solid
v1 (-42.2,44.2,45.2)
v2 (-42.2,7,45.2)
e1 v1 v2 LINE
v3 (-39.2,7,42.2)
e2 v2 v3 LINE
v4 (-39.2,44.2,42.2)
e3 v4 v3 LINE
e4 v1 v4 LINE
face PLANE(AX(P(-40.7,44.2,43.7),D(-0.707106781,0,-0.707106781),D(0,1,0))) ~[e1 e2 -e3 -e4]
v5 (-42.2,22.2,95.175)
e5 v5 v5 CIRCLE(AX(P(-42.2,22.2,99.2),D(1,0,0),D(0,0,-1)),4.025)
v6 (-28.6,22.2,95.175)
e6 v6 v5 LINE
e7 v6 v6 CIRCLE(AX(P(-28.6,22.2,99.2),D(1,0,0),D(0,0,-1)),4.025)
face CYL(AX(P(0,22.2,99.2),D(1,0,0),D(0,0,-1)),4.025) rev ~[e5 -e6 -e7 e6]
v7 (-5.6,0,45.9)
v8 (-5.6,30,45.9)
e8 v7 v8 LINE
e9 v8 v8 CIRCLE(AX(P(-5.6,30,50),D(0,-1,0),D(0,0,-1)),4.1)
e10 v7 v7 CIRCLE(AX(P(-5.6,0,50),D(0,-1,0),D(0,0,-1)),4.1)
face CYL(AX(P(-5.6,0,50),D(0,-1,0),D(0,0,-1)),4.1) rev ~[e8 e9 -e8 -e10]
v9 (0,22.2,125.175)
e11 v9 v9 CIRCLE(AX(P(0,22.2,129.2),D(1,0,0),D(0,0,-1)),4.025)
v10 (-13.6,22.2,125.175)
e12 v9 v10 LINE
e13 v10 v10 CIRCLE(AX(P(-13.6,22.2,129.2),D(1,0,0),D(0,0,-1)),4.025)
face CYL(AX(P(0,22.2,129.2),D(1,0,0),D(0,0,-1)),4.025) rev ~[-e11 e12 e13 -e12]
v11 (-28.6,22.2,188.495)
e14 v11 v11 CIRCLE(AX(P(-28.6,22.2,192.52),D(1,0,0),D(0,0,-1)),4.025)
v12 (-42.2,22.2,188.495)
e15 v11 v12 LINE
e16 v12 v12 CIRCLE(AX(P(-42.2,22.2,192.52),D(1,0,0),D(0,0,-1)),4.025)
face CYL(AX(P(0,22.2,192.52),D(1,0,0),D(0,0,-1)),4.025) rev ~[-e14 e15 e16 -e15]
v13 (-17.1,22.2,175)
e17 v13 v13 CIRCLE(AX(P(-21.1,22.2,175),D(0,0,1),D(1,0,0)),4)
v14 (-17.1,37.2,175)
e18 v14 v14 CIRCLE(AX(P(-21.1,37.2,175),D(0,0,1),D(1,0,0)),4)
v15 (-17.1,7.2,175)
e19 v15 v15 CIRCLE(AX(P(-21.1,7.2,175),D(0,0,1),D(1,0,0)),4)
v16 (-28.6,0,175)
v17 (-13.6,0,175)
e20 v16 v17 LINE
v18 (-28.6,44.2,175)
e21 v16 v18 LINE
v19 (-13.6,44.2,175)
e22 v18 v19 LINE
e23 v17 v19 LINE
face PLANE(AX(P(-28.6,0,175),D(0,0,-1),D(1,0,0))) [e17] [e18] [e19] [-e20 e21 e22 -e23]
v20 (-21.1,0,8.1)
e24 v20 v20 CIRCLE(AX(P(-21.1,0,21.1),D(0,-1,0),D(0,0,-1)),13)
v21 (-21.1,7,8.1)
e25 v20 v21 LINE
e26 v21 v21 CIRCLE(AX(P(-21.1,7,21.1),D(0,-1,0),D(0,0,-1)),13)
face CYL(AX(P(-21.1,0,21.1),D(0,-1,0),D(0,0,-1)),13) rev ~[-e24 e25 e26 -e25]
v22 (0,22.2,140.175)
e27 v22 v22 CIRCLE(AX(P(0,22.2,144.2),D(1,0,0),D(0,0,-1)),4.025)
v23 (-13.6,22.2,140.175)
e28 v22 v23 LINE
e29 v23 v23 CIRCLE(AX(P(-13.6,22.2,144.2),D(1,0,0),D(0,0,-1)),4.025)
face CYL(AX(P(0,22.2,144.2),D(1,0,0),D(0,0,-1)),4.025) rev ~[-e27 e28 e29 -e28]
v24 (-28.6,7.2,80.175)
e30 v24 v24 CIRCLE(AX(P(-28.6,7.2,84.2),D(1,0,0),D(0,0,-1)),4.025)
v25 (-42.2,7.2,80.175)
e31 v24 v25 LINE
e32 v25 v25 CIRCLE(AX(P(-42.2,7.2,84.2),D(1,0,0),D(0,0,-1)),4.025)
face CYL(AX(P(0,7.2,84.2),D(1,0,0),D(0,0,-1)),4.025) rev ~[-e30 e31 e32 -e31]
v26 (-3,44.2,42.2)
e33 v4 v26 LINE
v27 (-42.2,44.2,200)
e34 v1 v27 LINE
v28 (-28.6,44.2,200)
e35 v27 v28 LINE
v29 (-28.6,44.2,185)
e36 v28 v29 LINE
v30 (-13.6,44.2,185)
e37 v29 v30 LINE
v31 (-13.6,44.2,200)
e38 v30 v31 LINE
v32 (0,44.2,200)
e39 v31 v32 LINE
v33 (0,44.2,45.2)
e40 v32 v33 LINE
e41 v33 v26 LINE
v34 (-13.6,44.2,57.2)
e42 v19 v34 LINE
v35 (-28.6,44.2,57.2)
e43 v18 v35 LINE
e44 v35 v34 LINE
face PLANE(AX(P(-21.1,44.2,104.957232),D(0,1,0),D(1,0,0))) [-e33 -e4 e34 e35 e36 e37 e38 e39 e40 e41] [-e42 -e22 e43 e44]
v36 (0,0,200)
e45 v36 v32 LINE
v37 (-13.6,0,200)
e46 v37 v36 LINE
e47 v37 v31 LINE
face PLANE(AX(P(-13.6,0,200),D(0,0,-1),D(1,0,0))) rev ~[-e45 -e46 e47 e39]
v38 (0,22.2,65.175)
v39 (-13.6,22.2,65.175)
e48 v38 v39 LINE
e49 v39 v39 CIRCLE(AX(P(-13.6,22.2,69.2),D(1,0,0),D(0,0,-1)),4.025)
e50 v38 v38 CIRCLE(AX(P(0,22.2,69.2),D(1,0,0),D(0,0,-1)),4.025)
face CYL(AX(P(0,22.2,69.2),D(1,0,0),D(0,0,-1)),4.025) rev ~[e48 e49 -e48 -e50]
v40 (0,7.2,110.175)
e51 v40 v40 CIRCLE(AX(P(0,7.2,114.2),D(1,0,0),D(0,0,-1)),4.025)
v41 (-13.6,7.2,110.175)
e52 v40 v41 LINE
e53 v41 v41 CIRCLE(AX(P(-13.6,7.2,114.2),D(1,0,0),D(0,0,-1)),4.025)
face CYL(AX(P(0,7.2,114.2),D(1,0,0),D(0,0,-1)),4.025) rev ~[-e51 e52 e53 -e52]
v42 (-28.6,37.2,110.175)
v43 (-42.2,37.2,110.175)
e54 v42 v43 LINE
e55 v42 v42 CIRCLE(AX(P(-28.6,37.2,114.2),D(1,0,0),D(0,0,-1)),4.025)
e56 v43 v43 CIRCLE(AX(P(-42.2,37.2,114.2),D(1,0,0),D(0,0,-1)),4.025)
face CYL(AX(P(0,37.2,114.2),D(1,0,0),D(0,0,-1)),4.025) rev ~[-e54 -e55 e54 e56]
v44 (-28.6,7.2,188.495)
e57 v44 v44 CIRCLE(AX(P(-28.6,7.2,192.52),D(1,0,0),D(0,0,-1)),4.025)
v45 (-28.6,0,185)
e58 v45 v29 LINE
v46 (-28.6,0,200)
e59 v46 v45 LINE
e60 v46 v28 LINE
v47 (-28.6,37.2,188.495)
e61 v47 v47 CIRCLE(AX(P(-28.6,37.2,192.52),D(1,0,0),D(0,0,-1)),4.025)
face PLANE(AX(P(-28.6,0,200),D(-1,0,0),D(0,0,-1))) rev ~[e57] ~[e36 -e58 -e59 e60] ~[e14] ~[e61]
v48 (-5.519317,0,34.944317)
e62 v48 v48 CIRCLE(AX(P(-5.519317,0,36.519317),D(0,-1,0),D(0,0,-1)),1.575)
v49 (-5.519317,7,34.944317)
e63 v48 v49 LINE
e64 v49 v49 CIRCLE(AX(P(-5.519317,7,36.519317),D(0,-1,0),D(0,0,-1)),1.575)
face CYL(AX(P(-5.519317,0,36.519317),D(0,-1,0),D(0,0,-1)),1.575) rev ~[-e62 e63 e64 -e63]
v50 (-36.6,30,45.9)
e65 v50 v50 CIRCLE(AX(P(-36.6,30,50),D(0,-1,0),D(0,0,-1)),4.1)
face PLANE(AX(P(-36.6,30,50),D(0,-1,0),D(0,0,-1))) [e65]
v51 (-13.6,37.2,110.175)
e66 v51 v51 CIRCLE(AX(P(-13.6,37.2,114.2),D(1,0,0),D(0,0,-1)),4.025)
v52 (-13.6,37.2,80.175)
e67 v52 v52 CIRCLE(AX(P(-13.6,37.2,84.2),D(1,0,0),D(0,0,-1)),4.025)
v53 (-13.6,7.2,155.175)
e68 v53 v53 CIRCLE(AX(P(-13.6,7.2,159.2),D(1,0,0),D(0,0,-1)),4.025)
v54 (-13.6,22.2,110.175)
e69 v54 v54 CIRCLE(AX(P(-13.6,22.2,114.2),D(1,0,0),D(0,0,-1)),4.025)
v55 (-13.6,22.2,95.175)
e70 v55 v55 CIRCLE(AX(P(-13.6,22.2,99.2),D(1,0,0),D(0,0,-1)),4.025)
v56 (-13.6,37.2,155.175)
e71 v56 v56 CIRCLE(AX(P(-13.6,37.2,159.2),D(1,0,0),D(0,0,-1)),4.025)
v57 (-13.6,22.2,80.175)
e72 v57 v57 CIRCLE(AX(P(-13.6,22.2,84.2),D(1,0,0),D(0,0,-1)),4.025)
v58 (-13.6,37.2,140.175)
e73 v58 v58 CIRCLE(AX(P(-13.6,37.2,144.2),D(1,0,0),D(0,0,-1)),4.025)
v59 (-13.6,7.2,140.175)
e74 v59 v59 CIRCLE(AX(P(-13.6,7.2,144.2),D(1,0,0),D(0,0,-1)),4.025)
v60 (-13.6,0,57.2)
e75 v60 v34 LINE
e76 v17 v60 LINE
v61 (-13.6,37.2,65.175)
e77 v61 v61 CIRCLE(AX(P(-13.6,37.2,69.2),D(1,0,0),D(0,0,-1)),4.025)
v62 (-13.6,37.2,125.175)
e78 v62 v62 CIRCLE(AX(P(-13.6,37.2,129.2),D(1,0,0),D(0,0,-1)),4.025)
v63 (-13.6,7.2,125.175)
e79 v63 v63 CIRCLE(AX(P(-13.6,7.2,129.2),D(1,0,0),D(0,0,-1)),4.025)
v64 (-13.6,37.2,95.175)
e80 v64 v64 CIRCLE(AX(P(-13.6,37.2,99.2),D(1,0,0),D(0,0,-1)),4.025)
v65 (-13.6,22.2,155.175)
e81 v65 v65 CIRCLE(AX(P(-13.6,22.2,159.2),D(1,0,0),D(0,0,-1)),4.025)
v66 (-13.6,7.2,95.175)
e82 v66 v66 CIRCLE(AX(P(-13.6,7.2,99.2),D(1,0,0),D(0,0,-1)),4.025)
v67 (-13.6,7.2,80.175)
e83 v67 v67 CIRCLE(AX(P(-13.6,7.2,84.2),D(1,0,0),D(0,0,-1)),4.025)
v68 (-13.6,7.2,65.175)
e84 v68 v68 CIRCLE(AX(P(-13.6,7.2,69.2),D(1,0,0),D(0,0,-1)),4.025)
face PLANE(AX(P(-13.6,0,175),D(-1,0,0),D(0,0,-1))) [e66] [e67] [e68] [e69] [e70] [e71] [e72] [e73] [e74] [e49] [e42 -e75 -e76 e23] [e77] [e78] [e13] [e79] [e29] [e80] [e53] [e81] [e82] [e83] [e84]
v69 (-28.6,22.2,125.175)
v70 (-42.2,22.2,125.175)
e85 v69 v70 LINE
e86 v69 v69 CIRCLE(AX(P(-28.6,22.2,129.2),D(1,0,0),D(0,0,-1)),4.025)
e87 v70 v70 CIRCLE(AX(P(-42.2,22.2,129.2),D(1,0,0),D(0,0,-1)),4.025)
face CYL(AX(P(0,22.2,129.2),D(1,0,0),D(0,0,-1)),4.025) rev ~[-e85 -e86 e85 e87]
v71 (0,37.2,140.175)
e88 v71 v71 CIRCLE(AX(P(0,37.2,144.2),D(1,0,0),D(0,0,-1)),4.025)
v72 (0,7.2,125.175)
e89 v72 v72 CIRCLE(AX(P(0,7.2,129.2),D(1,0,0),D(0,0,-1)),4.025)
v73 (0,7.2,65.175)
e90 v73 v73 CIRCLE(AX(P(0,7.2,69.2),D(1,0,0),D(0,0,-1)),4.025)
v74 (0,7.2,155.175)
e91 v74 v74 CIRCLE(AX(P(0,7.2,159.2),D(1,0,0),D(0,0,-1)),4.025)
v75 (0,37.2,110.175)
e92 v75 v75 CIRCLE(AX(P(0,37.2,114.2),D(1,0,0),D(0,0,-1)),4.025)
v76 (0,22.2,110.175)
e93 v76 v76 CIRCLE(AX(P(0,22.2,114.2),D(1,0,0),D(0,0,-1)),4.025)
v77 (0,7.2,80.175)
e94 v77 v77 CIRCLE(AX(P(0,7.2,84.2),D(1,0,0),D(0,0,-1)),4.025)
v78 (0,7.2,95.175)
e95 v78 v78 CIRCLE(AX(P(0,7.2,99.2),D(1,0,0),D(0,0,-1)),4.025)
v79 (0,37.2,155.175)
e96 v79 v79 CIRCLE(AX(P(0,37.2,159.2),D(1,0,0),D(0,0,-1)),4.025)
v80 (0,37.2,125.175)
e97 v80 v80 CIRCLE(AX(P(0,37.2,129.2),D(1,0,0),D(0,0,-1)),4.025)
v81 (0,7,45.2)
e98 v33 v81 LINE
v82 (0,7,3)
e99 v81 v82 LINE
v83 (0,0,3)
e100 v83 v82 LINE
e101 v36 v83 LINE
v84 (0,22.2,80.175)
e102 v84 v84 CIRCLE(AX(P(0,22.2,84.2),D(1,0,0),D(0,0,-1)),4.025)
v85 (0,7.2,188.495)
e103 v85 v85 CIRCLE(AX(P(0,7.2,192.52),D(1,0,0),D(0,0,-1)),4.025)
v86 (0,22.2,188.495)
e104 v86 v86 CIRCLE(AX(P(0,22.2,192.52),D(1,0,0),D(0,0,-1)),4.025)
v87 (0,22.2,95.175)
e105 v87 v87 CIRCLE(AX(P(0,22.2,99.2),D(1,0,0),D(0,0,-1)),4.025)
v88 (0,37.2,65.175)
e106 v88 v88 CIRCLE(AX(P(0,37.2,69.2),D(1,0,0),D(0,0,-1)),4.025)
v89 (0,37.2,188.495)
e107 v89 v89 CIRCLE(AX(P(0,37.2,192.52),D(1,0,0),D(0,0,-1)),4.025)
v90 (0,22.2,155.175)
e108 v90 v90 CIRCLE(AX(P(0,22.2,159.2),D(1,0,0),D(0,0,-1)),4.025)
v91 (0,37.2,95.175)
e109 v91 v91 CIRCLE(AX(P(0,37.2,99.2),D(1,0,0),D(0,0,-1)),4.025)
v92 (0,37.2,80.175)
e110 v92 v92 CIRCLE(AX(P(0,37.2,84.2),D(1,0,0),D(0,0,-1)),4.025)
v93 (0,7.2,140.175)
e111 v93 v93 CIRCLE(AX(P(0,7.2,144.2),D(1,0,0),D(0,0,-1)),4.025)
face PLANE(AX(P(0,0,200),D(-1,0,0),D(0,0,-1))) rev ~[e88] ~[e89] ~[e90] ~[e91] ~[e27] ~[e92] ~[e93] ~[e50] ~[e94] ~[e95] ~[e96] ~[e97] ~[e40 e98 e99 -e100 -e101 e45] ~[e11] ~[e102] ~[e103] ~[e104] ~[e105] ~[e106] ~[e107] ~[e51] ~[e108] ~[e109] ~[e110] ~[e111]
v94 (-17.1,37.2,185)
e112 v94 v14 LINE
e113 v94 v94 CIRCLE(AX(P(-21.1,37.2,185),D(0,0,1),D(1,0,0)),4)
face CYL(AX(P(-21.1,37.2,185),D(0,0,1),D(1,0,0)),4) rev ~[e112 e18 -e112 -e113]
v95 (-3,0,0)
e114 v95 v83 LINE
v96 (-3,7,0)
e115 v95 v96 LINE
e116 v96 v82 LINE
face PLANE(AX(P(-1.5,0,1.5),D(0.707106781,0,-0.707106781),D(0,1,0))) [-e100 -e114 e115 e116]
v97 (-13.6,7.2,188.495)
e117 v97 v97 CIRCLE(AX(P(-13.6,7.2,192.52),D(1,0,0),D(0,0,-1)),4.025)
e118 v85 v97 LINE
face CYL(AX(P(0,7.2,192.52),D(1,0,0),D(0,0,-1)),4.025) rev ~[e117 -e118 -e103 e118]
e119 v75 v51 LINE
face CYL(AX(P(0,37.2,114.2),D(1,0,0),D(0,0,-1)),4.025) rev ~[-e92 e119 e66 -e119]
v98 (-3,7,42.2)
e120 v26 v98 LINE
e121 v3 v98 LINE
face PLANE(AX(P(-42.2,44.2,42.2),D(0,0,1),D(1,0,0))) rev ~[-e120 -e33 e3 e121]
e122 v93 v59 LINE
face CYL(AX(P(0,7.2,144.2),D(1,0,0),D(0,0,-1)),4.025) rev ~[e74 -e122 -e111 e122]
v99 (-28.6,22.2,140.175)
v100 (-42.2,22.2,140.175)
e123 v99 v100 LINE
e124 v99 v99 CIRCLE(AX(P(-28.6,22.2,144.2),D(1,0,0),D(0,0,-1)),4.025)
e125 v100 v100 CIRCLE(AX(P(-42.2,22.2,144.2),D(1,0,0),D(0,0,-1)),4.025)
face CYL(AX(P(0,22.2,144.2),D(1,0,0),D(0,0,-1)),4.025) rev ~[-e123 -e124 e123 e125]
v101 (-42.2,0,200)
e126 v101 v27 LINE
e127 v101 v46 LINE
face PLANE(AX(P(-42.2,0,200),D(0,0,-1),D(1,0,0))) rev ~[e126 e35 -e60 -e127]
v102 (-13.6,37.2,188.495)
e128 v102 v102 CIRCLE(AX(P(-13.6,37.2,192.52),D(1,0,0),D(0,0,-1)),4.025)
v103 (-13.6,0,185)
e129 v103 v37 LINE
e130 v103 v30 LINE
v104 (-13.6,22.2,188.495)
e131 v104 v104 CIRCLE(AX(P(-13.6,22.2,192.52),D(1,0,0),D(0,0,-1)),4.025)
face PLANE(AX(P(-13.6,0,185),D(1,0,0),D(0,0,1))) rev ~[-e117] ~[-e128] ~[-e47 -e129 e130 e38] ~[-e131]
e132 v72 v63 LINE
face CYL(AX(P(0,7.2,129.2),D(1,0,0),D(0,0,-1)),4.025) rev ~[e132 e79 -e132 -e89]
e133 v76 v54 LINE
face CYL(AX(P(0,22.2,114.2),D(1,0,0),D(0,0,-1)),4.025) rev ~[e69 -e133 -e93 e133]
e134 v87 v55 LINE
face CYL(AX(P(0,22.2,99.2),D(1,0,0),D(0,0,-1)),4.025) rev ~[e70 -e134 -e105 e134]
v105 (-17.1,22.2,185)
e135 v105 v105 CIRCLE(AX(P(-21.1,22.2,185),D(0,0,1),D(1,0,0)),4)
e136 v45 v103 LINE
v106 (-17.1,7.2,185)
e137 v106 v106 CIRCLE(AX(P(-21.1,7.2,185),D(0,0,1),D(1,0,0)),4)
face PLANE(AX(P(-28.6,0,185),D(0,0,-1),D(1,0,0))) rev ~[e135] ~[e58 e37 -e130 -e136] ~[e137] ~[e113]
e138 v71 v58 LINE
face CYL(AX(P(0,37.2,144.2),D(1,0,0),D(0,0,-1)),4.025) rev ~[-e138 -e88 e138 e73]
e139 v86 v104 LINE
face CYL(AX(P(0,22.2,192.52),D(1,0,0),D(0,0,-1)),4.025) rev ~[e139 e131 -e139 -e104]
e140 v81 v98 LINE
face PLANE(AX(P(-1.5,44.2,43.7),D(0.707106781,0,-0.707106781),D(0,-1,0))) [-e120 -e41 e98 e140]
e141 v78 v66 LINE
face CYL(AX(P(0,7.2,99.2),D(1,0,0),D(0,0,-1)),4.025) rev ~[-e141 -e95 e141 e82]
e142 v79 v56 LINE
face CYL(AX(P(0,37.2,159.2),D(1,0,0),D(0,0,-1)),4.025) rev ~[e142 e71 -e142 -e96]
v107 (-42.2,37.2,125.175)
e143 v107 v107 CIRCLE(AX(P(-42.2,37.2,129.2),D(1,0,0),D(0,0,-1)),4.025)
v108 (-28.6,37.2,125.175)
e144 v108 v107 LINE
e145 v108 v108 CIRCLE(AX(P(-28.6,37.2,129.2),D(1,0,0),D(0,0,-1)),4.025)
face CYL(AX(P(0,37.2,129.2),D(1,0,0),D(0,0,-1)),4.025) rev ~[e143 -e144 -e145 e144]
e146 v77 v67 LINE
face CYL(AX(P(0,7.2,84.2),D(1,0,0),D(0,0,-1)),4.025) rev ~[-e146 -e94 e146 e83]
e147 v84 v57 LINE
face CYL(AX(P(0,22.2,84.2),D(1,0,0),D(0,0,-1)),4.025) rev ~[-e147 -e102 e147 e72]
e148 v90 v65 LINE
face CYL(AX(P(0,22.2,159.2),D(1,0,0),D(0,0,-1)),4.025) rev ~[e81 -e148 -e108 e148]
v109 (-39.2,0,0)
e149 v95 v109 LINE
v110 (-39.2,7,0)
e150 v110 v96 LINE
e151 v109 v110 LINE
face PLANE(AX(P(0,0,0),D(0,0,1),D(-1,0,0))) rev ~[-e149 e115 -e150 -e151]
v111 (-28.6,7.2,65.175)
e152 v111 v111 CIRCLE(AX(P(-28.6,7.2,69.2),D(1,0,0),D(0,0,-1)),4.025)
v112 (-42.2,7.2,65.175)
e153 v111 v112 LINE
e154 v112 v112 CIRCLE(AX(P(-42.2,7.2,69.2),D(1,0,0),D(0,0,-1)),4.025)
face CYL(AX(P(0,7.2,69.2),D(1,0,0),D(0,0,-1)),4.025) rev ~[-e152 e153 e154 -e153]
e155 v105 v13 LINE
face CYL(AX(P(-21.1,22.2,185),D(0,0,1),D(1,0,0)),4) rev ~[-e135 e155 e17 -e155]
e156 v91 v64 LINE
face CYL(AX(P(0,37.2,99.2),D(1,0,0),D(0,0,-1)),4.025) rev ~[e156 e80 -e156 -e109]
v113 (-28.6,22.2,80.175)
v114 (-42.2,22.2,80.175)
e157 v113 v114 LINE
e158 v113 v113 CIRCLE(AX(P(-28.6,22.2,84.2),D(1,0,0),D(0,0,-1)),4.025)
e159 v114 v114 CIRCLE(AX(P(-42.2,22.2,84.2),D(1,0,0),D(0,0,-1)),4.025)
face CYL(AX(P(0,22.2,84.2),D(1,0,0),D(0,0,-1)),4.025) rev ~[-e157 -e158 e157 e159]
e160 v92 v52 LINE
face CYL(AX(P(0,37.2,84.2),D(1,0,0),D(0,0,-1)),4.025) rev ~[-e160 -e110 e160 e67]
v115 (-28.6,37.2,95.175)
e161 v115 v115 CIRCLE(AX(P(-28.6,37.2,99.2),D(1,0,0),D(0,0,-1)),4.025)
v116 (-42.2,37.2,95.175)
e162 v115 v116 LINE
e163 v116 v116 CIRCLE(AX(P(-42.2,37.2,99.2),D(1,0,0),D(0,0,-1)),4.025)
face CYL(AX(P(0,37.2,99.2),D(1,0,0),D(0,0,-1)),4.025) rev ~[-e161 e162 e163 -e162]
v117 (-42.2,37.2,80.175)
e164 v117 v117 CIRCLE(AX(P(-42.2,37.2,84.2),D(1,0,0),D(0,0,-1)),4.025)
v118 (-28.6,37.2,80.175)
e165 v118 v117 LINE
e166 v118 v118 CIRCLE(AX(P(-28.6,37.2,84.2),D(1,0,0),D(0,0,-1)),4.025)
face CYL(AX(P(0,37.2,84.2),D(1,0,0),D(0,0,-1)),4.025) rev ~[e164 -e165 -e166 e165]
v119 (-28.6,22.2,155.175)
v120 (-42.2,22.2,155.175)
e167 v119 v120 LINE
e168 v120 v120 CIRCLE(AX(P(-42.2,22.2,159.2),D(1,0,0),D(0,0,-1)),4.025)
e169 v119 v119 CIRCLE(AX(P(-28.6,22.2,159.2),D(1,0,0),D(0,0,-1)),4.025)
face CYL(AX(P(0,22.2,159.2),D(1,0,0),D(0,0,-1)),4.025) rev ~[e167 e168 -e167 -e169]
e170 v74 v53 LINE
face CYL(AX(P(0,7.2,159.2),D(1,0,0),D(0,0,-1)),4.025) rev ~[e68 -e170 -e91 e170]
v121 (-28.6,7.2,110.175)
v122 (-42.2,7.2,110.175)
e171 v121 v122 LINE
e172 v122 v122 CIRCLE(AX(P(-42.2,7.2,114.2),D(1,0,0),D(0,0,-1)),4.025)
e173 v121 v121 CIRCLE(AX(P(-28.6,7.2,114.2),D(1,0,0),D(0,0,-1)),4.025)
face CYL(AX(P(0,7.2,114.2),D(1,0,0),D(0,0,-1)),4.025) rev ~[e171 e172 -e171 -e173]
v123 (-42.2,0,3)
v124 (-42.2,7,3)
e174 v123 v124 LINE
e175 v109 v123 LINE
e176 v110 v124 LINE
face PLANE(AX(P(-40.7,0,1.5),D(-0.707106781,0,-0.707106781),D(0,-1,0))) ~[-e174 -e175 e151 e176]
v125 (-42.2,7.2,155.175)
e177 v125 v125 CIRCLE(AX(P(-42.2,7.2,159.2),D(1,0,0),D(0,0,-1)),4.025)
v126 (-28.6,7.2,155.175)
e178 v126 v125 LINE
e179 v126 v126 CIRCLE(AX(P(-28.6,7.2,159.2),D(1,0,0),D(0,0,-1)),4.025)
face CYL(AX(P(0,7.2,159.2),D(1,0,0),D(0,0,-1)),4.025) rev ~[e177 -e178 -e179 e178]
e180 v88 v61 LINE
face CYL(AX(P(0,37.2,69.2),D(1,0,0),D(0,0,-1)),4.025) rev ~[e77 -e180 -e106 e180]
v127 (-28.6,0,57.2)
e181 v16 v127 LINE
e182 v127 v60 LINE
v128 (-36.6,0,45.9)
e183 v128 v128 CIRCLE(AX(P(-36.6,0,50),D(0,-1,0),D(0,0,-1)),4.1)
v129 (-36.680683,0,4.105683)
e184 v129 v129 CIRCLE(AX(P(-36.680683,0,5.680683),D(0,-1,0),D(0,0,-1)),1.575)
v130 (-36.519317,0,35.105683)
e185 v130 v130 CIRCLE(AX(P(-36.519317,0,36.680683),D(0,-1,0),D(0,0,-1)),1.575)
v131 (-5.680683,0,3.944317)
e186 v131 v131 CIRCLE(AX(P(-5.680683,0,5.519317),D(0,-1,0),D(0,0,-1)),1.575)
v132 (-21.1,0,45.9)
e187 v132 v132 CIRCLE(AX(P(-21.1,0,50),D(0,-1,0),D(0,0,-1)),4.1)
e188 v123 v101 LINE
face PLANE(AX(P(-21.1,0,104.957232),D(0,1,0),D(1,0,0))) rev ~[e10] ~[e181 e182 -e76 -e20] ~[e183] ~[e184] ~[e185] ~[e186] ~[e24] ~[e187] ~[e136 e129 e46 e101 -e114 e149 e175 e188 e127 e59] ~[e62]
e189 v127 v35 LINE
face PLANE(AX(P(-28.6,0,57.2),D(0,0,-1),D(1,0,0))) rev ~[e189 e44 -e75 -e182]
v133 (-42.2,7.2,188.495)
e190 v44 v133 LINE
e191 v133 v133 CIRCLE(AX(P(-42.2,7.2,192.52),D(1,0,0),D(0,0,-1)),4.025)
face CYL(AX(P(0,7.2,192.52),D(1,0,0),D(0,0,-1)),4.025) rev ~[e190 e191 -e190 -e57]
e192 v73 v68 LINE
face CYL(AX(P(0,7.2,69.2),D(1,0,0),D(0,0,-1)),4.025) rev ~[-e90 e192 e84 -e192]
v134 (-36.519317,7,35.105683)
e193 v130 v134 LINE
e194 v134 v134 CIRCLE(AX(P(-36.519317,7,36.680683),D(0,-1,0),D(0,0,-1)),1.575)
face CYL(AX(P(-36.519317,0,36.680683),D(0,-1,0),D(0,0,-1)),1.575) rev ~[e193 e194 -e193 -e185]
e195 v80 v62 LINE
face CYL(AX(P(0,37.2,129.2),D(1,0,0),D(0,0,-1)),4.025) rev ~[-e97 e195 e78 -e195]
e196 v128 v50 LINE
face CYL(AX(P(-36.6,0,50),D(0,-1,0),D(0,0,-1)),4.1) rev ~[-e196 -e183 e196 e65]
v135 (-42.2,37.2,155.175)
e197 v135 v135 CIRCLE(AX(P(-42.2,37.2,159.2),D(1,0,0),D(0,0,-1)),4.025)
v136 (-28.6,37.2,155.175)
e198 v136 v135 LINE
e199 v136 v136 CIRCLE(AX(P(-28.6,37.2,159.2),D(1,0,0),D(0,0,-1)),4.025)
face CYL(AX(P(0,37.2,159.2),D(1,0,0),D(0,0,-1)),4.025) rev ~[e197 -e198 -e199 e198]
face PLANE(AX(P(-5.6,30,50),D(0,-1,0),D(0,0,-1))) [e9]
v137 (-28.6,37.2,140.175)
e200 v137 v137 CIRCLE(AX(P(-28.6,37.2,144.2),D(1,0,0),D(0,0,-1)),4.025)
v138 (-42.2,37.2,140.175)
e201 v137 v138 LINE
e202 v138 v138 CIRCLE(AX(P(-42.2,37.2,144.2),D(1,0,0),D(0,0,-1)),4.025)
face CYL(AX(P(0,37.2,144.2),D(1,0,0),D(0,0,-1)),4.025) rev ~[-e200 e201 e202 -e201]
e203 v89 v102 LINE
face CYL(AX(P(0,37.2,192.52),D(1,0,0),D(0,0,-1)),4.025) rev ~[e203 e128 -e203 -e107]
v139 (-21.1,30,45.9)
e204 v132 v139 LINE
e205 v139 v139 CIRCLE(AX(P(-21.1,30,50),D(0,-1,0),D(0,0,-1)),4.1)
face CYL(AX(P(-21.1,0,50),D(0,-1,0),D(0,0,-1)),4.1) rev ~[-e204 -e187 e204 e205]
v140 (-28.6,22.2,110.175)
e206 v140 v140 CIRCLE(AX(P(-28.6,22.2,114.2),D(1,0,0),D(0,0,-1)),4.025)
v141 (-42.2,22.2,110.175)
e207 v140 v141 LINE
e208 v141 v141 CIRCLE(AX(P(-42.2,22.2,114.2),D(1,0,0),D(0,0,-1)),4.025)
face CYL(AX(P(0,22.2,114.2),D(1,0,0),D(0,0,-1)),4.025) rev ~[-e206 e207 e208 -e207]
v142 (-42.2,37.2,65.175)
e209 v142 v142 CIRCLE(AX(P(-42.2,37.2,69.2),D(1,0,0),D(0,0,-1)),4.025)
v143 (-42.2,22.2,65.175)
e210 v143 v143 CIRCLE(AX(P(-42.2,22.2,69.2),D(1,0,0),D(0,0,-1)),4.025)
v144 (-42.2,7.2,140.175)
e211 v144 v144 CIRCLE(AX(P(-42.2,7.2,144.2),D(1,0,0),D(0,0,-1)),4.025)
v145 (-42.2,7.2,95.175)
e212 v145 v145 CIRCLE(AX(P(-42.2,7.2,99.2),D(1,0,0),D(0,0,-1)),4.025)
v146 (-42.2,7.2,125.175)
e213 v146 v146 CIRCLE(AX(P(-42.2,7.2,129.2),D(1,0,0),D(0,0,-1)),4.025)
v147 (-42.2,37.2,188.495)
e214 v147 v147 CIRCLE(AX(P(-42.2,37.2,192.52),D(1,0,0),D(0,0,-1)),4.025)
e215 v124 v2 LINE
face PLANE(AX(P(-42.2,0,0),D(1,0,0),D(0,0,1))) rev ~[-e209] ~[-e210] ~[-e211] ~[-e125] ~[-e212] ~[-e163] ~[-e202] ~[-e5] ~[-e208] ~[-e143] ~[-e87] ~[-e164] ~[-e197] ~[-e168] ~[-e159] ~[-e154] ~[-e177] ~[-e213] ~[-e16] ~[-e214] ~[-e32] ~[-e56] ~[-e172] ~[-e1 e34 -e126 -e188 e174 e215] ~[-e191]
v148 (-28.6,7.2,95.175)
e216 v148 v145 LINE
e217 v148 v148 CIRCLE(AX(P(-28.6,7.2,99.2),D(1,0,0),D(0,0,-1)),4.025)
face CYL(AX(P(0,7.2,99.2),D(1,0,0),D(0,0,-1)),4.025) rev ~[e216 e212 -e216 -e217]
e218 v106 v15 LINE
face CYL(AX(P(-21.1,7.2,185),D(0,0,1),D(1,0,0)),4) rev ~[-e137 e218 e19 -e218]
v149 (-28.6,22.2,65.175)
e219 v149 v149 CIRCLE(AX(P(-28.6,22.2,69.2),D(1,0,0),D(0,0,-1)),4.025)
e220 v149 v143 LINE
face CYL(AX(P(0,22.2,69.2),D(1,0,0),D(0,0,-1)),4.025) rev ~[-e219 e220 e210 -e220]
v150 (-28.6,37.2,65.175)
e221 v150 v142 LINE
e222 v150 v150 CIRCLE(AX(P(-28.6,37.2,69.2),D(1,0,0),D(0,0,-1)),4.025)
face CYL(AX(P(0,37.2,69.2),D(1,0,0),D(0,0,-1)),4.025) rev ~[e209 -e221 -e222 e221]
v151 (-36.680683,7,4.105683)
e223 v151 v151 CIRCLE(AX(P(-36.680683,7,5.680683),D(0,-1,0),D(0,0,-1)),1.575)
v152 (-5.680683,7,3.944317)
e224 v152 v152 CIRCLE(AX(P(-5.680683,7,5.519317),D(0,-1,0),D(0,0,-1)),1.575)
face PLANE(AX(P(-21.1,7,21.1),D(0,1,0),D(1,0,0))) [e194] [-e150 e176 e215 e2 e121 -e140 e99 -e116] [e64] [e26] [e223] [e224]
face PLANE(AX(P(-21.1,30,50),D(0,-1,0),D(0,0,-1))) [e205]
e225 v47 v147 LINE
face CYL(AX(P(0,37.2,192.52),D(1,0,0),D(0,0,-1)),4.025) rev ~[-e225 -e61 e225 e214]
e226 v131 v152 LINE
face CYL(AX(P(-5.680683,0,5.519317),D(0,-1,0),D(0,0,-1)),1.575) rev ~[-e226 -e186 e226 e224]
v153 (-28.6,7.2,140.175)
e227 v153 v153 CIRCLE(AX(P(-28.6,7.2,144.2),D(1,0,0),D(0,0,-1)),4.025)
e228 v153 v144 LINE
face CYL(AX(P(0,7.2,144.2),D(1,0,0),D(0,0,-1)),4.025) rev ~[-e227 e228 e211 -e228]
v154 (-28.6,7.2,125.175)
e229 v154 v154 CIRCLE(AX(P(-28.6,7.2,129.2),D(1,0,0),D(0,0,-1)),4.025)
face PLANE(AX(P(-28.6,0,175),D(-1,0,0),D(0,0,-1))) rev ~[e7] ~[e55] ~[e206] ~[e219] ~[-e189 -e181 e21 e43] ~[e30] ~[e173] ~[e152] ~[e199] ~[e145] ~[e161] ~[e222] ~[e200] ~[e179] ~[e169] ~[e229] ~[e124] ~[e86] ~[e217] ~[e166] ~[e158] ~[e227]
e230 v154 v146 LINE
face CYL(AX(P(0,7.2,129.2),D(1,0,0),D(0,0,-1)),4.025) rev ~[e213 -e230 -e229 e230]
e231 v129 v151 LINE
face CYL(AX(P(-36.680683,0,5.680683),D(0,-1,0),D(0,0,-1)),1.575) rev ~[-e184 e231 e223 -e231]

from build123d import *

# Parameters (mm, degrees)
SKETCH1_W           = 15
SKETCH1_H           = 117.8
BOSS_EXTRUDE1_DEPTH = 44.2
SKETCH2_W           = 42.2
SKETCH2_H           = 42.2
CUT_EXTRUDE1_DEPTH  = 37.2
SKETCH3_R           = 13
SKETCH3_R_2         = 1.575
SKETCH3_R_3         = 4.1
CUT_EXTRUDE2_DEPTH  = 30
SKETCH5_R           = 4.025
CUT_EXTRUDE3_DEPTH  = 55
SKETCH6_R           = 4
CUT_EXTRUDE4_DEPTH  = 10
CHAMFER1_SIZE       = 3


with BuildPart() as part:
    # Sketch1 → Boss-Extrude1 (new body)
    with BuildSketch(Plane(origin=(0, 0, 0), x_dir=(1, 0, 0), z_dir=(0, 1, 0))):
        Polygon((0, 0), (-42.2, 0), (-42.2, -200), (-28.6, -200), (-28.6, -185), (-13.6, -185), (-13.6, -200), (0, -200), align=None)
        with Locations((-21.1, -116.1)):
            Rectangle(SKETCH1_W, SKETCH1_H, mode=Mode.SUBTRACT)
    extrude(amount=BOSS_EXTRUDE1_DEPTH)

    # Sketch2 → Cut-Extrude1 (cut)
    with BuildSketch(Plane(origin=(0, 44.2, 0), x_dir=(1, 0, 0), z_dir=(0, 1, 0))):
        with Locations((-21.1, -21.1)):
            Rectangle(SKETCH2_W, SKETCH2_H)
    extrude(amount=-CUT_EXTRUDE1_DEPTH, mode=Mode.SUBTRACT)

    # Sketch3 → Cut-Extrude2 (cut)
    with BuildSketch(Plane.XZ):
        with Locations(Location((-21.1, 21.1, 0), (0, 0, 270))):
            Circle(SKETCH3_R)
        with Locations(Location((-36.519316662, 36.680683338, 0), (0, 0, 270))):
            Circle(SKETCH3_R_2)
        with Locations(Location((-5.519316662, 36.519316662, 0), (0, 0, 270))):
            Circle(SKETCH3_R_2)
        with Locations(Location((-5.680683338, 5.519316662, 0), (0, 0, 270))):
            Circle(SKETCH3_R_2)
        with Locations(Location((-36.680683338, 5.680683338, 0), (0, 0, 270))):
            Circle(SKETCH3_R_2)
        with Locations(Location((-21.1, 50, 0), (0, 0, 270))):
            Circle(SKETCH3_R_3)
        with Locations(Location((-5.6, 50, 0), (0, 0, 270))):
            Circle(SKETCH3_R_3)
        with Locations(Location((-36.6, 50, 0), (0, 0, 270))):
            Circle(SKETCH3_R_3)
    extrude(amount=-CUT_EXTRUDE2_DEPTH, mode=Mode.SUBTRACT)

    # Sketch5 → Cut-Extrude3 (cut)
    with BuildSketch(Plane(origin=(0, 0, 0), x_dir=(0, 0, -1), z_dir=(1, 0, 0))):
        with Locations((-69.2, 37.2)):
            Circle(SKETCH5_R)
        with Locations((-84.2, 37.2)):
            Circle(SKETCH5_R)
        with Locations((-99.2, 37.2)):
            Circle(SKETCH5_R)
        with Locations((-114.2, 37.2)):
            Circle(SKETCH5_R)
        with Locations((-84.2, 22.2)):
            Circle(SKETCH5_R)
        with Locations((-99.2, 22.2)):
            Circle(SKETCH5_R)
        with Locations((-114.2, 22.2)):
            Circle(SKETCH5_R)
        with Locations((-84.2, 7.2)):
            Circle(SKETCH5_R)
        with Locations((-99.2, 7.2)):
            Circle(SKETCH5_R)
        with Locations((-114.2, 7.2)):
            Circle(SKETCH5_R)
        with Locations((-69.2, 22.2)):
            Circle(SKETCH5_R)
        with Locations((-69.2, 7.2)):
            Circle(SKETCH5_R)
        with Locations((-192.52, 37.2)):
            Circle(SKETCH5_R)
        with Locations((-192.52, 22.2)):
            Circle(SKETCH5_R)
        with Locations((-192.52, 7.2)):
            Circle(SKETCH5_R)
        with Locations((-129.2, 37.2)):
            Circle(SKETCH5_R)
        with Locations((-144.2, 37.2)):
            Circle(SKETCH5_R)
        with Locations((-159.2, 37.2)):
            Circle(SKETCH5_R)
        with Locations((-129.2, 22.2)):
            Circle(SKETCH5_R)
        with Locations((-144.2, 22.2)):
            Circle(SKETCH5_R)
        with Locations((-159.2, 22.2)):
            Circle(SKETCH5_R)
        with Locations((-129.2, 7.2)):
            Circle(SKETCH5_R)
        with Locations((-144.2, 7.2)):
            Circle(SKETCH5_R)
        with Locations((-159.2, 7.2)):
            Circle(SKETCH5_R)
    extrude(amount=-CUT_EXTRUDE3_DEPTH, mode=Mode.SUBTRACT)

    # Sketch6 → Cut-Extrude4 (cut)
    with BuildSketch(Plane.XY.offset(185)):
        with Locations((-21.1, 37.2)):
            Circle(SKETCH6_R)
        with Locations((-21.1, 22.2)):
            Circle(SKETCH6_R)
        with Locations((-21.1, 7.2)):
            Circle(SKETCH6_R)
    extrude(amount=-CUT_EXTRUDE4_DEPTH, mode=Mode.SUBTRACT)

    # Chamfer1
    chamfer1_edges = [part.edges().sort_by_distance(p)[0] for p in [
        (-42.2, 3.5, 0),
        (0, 3.5, 0),
        (-42.2, 25.6, 42.2),
        (0, 25.6, 42.2),
    ]]
    chamfer(chamfer1_edges, length=CHAMFER1_SIZE)


solid = part.part
